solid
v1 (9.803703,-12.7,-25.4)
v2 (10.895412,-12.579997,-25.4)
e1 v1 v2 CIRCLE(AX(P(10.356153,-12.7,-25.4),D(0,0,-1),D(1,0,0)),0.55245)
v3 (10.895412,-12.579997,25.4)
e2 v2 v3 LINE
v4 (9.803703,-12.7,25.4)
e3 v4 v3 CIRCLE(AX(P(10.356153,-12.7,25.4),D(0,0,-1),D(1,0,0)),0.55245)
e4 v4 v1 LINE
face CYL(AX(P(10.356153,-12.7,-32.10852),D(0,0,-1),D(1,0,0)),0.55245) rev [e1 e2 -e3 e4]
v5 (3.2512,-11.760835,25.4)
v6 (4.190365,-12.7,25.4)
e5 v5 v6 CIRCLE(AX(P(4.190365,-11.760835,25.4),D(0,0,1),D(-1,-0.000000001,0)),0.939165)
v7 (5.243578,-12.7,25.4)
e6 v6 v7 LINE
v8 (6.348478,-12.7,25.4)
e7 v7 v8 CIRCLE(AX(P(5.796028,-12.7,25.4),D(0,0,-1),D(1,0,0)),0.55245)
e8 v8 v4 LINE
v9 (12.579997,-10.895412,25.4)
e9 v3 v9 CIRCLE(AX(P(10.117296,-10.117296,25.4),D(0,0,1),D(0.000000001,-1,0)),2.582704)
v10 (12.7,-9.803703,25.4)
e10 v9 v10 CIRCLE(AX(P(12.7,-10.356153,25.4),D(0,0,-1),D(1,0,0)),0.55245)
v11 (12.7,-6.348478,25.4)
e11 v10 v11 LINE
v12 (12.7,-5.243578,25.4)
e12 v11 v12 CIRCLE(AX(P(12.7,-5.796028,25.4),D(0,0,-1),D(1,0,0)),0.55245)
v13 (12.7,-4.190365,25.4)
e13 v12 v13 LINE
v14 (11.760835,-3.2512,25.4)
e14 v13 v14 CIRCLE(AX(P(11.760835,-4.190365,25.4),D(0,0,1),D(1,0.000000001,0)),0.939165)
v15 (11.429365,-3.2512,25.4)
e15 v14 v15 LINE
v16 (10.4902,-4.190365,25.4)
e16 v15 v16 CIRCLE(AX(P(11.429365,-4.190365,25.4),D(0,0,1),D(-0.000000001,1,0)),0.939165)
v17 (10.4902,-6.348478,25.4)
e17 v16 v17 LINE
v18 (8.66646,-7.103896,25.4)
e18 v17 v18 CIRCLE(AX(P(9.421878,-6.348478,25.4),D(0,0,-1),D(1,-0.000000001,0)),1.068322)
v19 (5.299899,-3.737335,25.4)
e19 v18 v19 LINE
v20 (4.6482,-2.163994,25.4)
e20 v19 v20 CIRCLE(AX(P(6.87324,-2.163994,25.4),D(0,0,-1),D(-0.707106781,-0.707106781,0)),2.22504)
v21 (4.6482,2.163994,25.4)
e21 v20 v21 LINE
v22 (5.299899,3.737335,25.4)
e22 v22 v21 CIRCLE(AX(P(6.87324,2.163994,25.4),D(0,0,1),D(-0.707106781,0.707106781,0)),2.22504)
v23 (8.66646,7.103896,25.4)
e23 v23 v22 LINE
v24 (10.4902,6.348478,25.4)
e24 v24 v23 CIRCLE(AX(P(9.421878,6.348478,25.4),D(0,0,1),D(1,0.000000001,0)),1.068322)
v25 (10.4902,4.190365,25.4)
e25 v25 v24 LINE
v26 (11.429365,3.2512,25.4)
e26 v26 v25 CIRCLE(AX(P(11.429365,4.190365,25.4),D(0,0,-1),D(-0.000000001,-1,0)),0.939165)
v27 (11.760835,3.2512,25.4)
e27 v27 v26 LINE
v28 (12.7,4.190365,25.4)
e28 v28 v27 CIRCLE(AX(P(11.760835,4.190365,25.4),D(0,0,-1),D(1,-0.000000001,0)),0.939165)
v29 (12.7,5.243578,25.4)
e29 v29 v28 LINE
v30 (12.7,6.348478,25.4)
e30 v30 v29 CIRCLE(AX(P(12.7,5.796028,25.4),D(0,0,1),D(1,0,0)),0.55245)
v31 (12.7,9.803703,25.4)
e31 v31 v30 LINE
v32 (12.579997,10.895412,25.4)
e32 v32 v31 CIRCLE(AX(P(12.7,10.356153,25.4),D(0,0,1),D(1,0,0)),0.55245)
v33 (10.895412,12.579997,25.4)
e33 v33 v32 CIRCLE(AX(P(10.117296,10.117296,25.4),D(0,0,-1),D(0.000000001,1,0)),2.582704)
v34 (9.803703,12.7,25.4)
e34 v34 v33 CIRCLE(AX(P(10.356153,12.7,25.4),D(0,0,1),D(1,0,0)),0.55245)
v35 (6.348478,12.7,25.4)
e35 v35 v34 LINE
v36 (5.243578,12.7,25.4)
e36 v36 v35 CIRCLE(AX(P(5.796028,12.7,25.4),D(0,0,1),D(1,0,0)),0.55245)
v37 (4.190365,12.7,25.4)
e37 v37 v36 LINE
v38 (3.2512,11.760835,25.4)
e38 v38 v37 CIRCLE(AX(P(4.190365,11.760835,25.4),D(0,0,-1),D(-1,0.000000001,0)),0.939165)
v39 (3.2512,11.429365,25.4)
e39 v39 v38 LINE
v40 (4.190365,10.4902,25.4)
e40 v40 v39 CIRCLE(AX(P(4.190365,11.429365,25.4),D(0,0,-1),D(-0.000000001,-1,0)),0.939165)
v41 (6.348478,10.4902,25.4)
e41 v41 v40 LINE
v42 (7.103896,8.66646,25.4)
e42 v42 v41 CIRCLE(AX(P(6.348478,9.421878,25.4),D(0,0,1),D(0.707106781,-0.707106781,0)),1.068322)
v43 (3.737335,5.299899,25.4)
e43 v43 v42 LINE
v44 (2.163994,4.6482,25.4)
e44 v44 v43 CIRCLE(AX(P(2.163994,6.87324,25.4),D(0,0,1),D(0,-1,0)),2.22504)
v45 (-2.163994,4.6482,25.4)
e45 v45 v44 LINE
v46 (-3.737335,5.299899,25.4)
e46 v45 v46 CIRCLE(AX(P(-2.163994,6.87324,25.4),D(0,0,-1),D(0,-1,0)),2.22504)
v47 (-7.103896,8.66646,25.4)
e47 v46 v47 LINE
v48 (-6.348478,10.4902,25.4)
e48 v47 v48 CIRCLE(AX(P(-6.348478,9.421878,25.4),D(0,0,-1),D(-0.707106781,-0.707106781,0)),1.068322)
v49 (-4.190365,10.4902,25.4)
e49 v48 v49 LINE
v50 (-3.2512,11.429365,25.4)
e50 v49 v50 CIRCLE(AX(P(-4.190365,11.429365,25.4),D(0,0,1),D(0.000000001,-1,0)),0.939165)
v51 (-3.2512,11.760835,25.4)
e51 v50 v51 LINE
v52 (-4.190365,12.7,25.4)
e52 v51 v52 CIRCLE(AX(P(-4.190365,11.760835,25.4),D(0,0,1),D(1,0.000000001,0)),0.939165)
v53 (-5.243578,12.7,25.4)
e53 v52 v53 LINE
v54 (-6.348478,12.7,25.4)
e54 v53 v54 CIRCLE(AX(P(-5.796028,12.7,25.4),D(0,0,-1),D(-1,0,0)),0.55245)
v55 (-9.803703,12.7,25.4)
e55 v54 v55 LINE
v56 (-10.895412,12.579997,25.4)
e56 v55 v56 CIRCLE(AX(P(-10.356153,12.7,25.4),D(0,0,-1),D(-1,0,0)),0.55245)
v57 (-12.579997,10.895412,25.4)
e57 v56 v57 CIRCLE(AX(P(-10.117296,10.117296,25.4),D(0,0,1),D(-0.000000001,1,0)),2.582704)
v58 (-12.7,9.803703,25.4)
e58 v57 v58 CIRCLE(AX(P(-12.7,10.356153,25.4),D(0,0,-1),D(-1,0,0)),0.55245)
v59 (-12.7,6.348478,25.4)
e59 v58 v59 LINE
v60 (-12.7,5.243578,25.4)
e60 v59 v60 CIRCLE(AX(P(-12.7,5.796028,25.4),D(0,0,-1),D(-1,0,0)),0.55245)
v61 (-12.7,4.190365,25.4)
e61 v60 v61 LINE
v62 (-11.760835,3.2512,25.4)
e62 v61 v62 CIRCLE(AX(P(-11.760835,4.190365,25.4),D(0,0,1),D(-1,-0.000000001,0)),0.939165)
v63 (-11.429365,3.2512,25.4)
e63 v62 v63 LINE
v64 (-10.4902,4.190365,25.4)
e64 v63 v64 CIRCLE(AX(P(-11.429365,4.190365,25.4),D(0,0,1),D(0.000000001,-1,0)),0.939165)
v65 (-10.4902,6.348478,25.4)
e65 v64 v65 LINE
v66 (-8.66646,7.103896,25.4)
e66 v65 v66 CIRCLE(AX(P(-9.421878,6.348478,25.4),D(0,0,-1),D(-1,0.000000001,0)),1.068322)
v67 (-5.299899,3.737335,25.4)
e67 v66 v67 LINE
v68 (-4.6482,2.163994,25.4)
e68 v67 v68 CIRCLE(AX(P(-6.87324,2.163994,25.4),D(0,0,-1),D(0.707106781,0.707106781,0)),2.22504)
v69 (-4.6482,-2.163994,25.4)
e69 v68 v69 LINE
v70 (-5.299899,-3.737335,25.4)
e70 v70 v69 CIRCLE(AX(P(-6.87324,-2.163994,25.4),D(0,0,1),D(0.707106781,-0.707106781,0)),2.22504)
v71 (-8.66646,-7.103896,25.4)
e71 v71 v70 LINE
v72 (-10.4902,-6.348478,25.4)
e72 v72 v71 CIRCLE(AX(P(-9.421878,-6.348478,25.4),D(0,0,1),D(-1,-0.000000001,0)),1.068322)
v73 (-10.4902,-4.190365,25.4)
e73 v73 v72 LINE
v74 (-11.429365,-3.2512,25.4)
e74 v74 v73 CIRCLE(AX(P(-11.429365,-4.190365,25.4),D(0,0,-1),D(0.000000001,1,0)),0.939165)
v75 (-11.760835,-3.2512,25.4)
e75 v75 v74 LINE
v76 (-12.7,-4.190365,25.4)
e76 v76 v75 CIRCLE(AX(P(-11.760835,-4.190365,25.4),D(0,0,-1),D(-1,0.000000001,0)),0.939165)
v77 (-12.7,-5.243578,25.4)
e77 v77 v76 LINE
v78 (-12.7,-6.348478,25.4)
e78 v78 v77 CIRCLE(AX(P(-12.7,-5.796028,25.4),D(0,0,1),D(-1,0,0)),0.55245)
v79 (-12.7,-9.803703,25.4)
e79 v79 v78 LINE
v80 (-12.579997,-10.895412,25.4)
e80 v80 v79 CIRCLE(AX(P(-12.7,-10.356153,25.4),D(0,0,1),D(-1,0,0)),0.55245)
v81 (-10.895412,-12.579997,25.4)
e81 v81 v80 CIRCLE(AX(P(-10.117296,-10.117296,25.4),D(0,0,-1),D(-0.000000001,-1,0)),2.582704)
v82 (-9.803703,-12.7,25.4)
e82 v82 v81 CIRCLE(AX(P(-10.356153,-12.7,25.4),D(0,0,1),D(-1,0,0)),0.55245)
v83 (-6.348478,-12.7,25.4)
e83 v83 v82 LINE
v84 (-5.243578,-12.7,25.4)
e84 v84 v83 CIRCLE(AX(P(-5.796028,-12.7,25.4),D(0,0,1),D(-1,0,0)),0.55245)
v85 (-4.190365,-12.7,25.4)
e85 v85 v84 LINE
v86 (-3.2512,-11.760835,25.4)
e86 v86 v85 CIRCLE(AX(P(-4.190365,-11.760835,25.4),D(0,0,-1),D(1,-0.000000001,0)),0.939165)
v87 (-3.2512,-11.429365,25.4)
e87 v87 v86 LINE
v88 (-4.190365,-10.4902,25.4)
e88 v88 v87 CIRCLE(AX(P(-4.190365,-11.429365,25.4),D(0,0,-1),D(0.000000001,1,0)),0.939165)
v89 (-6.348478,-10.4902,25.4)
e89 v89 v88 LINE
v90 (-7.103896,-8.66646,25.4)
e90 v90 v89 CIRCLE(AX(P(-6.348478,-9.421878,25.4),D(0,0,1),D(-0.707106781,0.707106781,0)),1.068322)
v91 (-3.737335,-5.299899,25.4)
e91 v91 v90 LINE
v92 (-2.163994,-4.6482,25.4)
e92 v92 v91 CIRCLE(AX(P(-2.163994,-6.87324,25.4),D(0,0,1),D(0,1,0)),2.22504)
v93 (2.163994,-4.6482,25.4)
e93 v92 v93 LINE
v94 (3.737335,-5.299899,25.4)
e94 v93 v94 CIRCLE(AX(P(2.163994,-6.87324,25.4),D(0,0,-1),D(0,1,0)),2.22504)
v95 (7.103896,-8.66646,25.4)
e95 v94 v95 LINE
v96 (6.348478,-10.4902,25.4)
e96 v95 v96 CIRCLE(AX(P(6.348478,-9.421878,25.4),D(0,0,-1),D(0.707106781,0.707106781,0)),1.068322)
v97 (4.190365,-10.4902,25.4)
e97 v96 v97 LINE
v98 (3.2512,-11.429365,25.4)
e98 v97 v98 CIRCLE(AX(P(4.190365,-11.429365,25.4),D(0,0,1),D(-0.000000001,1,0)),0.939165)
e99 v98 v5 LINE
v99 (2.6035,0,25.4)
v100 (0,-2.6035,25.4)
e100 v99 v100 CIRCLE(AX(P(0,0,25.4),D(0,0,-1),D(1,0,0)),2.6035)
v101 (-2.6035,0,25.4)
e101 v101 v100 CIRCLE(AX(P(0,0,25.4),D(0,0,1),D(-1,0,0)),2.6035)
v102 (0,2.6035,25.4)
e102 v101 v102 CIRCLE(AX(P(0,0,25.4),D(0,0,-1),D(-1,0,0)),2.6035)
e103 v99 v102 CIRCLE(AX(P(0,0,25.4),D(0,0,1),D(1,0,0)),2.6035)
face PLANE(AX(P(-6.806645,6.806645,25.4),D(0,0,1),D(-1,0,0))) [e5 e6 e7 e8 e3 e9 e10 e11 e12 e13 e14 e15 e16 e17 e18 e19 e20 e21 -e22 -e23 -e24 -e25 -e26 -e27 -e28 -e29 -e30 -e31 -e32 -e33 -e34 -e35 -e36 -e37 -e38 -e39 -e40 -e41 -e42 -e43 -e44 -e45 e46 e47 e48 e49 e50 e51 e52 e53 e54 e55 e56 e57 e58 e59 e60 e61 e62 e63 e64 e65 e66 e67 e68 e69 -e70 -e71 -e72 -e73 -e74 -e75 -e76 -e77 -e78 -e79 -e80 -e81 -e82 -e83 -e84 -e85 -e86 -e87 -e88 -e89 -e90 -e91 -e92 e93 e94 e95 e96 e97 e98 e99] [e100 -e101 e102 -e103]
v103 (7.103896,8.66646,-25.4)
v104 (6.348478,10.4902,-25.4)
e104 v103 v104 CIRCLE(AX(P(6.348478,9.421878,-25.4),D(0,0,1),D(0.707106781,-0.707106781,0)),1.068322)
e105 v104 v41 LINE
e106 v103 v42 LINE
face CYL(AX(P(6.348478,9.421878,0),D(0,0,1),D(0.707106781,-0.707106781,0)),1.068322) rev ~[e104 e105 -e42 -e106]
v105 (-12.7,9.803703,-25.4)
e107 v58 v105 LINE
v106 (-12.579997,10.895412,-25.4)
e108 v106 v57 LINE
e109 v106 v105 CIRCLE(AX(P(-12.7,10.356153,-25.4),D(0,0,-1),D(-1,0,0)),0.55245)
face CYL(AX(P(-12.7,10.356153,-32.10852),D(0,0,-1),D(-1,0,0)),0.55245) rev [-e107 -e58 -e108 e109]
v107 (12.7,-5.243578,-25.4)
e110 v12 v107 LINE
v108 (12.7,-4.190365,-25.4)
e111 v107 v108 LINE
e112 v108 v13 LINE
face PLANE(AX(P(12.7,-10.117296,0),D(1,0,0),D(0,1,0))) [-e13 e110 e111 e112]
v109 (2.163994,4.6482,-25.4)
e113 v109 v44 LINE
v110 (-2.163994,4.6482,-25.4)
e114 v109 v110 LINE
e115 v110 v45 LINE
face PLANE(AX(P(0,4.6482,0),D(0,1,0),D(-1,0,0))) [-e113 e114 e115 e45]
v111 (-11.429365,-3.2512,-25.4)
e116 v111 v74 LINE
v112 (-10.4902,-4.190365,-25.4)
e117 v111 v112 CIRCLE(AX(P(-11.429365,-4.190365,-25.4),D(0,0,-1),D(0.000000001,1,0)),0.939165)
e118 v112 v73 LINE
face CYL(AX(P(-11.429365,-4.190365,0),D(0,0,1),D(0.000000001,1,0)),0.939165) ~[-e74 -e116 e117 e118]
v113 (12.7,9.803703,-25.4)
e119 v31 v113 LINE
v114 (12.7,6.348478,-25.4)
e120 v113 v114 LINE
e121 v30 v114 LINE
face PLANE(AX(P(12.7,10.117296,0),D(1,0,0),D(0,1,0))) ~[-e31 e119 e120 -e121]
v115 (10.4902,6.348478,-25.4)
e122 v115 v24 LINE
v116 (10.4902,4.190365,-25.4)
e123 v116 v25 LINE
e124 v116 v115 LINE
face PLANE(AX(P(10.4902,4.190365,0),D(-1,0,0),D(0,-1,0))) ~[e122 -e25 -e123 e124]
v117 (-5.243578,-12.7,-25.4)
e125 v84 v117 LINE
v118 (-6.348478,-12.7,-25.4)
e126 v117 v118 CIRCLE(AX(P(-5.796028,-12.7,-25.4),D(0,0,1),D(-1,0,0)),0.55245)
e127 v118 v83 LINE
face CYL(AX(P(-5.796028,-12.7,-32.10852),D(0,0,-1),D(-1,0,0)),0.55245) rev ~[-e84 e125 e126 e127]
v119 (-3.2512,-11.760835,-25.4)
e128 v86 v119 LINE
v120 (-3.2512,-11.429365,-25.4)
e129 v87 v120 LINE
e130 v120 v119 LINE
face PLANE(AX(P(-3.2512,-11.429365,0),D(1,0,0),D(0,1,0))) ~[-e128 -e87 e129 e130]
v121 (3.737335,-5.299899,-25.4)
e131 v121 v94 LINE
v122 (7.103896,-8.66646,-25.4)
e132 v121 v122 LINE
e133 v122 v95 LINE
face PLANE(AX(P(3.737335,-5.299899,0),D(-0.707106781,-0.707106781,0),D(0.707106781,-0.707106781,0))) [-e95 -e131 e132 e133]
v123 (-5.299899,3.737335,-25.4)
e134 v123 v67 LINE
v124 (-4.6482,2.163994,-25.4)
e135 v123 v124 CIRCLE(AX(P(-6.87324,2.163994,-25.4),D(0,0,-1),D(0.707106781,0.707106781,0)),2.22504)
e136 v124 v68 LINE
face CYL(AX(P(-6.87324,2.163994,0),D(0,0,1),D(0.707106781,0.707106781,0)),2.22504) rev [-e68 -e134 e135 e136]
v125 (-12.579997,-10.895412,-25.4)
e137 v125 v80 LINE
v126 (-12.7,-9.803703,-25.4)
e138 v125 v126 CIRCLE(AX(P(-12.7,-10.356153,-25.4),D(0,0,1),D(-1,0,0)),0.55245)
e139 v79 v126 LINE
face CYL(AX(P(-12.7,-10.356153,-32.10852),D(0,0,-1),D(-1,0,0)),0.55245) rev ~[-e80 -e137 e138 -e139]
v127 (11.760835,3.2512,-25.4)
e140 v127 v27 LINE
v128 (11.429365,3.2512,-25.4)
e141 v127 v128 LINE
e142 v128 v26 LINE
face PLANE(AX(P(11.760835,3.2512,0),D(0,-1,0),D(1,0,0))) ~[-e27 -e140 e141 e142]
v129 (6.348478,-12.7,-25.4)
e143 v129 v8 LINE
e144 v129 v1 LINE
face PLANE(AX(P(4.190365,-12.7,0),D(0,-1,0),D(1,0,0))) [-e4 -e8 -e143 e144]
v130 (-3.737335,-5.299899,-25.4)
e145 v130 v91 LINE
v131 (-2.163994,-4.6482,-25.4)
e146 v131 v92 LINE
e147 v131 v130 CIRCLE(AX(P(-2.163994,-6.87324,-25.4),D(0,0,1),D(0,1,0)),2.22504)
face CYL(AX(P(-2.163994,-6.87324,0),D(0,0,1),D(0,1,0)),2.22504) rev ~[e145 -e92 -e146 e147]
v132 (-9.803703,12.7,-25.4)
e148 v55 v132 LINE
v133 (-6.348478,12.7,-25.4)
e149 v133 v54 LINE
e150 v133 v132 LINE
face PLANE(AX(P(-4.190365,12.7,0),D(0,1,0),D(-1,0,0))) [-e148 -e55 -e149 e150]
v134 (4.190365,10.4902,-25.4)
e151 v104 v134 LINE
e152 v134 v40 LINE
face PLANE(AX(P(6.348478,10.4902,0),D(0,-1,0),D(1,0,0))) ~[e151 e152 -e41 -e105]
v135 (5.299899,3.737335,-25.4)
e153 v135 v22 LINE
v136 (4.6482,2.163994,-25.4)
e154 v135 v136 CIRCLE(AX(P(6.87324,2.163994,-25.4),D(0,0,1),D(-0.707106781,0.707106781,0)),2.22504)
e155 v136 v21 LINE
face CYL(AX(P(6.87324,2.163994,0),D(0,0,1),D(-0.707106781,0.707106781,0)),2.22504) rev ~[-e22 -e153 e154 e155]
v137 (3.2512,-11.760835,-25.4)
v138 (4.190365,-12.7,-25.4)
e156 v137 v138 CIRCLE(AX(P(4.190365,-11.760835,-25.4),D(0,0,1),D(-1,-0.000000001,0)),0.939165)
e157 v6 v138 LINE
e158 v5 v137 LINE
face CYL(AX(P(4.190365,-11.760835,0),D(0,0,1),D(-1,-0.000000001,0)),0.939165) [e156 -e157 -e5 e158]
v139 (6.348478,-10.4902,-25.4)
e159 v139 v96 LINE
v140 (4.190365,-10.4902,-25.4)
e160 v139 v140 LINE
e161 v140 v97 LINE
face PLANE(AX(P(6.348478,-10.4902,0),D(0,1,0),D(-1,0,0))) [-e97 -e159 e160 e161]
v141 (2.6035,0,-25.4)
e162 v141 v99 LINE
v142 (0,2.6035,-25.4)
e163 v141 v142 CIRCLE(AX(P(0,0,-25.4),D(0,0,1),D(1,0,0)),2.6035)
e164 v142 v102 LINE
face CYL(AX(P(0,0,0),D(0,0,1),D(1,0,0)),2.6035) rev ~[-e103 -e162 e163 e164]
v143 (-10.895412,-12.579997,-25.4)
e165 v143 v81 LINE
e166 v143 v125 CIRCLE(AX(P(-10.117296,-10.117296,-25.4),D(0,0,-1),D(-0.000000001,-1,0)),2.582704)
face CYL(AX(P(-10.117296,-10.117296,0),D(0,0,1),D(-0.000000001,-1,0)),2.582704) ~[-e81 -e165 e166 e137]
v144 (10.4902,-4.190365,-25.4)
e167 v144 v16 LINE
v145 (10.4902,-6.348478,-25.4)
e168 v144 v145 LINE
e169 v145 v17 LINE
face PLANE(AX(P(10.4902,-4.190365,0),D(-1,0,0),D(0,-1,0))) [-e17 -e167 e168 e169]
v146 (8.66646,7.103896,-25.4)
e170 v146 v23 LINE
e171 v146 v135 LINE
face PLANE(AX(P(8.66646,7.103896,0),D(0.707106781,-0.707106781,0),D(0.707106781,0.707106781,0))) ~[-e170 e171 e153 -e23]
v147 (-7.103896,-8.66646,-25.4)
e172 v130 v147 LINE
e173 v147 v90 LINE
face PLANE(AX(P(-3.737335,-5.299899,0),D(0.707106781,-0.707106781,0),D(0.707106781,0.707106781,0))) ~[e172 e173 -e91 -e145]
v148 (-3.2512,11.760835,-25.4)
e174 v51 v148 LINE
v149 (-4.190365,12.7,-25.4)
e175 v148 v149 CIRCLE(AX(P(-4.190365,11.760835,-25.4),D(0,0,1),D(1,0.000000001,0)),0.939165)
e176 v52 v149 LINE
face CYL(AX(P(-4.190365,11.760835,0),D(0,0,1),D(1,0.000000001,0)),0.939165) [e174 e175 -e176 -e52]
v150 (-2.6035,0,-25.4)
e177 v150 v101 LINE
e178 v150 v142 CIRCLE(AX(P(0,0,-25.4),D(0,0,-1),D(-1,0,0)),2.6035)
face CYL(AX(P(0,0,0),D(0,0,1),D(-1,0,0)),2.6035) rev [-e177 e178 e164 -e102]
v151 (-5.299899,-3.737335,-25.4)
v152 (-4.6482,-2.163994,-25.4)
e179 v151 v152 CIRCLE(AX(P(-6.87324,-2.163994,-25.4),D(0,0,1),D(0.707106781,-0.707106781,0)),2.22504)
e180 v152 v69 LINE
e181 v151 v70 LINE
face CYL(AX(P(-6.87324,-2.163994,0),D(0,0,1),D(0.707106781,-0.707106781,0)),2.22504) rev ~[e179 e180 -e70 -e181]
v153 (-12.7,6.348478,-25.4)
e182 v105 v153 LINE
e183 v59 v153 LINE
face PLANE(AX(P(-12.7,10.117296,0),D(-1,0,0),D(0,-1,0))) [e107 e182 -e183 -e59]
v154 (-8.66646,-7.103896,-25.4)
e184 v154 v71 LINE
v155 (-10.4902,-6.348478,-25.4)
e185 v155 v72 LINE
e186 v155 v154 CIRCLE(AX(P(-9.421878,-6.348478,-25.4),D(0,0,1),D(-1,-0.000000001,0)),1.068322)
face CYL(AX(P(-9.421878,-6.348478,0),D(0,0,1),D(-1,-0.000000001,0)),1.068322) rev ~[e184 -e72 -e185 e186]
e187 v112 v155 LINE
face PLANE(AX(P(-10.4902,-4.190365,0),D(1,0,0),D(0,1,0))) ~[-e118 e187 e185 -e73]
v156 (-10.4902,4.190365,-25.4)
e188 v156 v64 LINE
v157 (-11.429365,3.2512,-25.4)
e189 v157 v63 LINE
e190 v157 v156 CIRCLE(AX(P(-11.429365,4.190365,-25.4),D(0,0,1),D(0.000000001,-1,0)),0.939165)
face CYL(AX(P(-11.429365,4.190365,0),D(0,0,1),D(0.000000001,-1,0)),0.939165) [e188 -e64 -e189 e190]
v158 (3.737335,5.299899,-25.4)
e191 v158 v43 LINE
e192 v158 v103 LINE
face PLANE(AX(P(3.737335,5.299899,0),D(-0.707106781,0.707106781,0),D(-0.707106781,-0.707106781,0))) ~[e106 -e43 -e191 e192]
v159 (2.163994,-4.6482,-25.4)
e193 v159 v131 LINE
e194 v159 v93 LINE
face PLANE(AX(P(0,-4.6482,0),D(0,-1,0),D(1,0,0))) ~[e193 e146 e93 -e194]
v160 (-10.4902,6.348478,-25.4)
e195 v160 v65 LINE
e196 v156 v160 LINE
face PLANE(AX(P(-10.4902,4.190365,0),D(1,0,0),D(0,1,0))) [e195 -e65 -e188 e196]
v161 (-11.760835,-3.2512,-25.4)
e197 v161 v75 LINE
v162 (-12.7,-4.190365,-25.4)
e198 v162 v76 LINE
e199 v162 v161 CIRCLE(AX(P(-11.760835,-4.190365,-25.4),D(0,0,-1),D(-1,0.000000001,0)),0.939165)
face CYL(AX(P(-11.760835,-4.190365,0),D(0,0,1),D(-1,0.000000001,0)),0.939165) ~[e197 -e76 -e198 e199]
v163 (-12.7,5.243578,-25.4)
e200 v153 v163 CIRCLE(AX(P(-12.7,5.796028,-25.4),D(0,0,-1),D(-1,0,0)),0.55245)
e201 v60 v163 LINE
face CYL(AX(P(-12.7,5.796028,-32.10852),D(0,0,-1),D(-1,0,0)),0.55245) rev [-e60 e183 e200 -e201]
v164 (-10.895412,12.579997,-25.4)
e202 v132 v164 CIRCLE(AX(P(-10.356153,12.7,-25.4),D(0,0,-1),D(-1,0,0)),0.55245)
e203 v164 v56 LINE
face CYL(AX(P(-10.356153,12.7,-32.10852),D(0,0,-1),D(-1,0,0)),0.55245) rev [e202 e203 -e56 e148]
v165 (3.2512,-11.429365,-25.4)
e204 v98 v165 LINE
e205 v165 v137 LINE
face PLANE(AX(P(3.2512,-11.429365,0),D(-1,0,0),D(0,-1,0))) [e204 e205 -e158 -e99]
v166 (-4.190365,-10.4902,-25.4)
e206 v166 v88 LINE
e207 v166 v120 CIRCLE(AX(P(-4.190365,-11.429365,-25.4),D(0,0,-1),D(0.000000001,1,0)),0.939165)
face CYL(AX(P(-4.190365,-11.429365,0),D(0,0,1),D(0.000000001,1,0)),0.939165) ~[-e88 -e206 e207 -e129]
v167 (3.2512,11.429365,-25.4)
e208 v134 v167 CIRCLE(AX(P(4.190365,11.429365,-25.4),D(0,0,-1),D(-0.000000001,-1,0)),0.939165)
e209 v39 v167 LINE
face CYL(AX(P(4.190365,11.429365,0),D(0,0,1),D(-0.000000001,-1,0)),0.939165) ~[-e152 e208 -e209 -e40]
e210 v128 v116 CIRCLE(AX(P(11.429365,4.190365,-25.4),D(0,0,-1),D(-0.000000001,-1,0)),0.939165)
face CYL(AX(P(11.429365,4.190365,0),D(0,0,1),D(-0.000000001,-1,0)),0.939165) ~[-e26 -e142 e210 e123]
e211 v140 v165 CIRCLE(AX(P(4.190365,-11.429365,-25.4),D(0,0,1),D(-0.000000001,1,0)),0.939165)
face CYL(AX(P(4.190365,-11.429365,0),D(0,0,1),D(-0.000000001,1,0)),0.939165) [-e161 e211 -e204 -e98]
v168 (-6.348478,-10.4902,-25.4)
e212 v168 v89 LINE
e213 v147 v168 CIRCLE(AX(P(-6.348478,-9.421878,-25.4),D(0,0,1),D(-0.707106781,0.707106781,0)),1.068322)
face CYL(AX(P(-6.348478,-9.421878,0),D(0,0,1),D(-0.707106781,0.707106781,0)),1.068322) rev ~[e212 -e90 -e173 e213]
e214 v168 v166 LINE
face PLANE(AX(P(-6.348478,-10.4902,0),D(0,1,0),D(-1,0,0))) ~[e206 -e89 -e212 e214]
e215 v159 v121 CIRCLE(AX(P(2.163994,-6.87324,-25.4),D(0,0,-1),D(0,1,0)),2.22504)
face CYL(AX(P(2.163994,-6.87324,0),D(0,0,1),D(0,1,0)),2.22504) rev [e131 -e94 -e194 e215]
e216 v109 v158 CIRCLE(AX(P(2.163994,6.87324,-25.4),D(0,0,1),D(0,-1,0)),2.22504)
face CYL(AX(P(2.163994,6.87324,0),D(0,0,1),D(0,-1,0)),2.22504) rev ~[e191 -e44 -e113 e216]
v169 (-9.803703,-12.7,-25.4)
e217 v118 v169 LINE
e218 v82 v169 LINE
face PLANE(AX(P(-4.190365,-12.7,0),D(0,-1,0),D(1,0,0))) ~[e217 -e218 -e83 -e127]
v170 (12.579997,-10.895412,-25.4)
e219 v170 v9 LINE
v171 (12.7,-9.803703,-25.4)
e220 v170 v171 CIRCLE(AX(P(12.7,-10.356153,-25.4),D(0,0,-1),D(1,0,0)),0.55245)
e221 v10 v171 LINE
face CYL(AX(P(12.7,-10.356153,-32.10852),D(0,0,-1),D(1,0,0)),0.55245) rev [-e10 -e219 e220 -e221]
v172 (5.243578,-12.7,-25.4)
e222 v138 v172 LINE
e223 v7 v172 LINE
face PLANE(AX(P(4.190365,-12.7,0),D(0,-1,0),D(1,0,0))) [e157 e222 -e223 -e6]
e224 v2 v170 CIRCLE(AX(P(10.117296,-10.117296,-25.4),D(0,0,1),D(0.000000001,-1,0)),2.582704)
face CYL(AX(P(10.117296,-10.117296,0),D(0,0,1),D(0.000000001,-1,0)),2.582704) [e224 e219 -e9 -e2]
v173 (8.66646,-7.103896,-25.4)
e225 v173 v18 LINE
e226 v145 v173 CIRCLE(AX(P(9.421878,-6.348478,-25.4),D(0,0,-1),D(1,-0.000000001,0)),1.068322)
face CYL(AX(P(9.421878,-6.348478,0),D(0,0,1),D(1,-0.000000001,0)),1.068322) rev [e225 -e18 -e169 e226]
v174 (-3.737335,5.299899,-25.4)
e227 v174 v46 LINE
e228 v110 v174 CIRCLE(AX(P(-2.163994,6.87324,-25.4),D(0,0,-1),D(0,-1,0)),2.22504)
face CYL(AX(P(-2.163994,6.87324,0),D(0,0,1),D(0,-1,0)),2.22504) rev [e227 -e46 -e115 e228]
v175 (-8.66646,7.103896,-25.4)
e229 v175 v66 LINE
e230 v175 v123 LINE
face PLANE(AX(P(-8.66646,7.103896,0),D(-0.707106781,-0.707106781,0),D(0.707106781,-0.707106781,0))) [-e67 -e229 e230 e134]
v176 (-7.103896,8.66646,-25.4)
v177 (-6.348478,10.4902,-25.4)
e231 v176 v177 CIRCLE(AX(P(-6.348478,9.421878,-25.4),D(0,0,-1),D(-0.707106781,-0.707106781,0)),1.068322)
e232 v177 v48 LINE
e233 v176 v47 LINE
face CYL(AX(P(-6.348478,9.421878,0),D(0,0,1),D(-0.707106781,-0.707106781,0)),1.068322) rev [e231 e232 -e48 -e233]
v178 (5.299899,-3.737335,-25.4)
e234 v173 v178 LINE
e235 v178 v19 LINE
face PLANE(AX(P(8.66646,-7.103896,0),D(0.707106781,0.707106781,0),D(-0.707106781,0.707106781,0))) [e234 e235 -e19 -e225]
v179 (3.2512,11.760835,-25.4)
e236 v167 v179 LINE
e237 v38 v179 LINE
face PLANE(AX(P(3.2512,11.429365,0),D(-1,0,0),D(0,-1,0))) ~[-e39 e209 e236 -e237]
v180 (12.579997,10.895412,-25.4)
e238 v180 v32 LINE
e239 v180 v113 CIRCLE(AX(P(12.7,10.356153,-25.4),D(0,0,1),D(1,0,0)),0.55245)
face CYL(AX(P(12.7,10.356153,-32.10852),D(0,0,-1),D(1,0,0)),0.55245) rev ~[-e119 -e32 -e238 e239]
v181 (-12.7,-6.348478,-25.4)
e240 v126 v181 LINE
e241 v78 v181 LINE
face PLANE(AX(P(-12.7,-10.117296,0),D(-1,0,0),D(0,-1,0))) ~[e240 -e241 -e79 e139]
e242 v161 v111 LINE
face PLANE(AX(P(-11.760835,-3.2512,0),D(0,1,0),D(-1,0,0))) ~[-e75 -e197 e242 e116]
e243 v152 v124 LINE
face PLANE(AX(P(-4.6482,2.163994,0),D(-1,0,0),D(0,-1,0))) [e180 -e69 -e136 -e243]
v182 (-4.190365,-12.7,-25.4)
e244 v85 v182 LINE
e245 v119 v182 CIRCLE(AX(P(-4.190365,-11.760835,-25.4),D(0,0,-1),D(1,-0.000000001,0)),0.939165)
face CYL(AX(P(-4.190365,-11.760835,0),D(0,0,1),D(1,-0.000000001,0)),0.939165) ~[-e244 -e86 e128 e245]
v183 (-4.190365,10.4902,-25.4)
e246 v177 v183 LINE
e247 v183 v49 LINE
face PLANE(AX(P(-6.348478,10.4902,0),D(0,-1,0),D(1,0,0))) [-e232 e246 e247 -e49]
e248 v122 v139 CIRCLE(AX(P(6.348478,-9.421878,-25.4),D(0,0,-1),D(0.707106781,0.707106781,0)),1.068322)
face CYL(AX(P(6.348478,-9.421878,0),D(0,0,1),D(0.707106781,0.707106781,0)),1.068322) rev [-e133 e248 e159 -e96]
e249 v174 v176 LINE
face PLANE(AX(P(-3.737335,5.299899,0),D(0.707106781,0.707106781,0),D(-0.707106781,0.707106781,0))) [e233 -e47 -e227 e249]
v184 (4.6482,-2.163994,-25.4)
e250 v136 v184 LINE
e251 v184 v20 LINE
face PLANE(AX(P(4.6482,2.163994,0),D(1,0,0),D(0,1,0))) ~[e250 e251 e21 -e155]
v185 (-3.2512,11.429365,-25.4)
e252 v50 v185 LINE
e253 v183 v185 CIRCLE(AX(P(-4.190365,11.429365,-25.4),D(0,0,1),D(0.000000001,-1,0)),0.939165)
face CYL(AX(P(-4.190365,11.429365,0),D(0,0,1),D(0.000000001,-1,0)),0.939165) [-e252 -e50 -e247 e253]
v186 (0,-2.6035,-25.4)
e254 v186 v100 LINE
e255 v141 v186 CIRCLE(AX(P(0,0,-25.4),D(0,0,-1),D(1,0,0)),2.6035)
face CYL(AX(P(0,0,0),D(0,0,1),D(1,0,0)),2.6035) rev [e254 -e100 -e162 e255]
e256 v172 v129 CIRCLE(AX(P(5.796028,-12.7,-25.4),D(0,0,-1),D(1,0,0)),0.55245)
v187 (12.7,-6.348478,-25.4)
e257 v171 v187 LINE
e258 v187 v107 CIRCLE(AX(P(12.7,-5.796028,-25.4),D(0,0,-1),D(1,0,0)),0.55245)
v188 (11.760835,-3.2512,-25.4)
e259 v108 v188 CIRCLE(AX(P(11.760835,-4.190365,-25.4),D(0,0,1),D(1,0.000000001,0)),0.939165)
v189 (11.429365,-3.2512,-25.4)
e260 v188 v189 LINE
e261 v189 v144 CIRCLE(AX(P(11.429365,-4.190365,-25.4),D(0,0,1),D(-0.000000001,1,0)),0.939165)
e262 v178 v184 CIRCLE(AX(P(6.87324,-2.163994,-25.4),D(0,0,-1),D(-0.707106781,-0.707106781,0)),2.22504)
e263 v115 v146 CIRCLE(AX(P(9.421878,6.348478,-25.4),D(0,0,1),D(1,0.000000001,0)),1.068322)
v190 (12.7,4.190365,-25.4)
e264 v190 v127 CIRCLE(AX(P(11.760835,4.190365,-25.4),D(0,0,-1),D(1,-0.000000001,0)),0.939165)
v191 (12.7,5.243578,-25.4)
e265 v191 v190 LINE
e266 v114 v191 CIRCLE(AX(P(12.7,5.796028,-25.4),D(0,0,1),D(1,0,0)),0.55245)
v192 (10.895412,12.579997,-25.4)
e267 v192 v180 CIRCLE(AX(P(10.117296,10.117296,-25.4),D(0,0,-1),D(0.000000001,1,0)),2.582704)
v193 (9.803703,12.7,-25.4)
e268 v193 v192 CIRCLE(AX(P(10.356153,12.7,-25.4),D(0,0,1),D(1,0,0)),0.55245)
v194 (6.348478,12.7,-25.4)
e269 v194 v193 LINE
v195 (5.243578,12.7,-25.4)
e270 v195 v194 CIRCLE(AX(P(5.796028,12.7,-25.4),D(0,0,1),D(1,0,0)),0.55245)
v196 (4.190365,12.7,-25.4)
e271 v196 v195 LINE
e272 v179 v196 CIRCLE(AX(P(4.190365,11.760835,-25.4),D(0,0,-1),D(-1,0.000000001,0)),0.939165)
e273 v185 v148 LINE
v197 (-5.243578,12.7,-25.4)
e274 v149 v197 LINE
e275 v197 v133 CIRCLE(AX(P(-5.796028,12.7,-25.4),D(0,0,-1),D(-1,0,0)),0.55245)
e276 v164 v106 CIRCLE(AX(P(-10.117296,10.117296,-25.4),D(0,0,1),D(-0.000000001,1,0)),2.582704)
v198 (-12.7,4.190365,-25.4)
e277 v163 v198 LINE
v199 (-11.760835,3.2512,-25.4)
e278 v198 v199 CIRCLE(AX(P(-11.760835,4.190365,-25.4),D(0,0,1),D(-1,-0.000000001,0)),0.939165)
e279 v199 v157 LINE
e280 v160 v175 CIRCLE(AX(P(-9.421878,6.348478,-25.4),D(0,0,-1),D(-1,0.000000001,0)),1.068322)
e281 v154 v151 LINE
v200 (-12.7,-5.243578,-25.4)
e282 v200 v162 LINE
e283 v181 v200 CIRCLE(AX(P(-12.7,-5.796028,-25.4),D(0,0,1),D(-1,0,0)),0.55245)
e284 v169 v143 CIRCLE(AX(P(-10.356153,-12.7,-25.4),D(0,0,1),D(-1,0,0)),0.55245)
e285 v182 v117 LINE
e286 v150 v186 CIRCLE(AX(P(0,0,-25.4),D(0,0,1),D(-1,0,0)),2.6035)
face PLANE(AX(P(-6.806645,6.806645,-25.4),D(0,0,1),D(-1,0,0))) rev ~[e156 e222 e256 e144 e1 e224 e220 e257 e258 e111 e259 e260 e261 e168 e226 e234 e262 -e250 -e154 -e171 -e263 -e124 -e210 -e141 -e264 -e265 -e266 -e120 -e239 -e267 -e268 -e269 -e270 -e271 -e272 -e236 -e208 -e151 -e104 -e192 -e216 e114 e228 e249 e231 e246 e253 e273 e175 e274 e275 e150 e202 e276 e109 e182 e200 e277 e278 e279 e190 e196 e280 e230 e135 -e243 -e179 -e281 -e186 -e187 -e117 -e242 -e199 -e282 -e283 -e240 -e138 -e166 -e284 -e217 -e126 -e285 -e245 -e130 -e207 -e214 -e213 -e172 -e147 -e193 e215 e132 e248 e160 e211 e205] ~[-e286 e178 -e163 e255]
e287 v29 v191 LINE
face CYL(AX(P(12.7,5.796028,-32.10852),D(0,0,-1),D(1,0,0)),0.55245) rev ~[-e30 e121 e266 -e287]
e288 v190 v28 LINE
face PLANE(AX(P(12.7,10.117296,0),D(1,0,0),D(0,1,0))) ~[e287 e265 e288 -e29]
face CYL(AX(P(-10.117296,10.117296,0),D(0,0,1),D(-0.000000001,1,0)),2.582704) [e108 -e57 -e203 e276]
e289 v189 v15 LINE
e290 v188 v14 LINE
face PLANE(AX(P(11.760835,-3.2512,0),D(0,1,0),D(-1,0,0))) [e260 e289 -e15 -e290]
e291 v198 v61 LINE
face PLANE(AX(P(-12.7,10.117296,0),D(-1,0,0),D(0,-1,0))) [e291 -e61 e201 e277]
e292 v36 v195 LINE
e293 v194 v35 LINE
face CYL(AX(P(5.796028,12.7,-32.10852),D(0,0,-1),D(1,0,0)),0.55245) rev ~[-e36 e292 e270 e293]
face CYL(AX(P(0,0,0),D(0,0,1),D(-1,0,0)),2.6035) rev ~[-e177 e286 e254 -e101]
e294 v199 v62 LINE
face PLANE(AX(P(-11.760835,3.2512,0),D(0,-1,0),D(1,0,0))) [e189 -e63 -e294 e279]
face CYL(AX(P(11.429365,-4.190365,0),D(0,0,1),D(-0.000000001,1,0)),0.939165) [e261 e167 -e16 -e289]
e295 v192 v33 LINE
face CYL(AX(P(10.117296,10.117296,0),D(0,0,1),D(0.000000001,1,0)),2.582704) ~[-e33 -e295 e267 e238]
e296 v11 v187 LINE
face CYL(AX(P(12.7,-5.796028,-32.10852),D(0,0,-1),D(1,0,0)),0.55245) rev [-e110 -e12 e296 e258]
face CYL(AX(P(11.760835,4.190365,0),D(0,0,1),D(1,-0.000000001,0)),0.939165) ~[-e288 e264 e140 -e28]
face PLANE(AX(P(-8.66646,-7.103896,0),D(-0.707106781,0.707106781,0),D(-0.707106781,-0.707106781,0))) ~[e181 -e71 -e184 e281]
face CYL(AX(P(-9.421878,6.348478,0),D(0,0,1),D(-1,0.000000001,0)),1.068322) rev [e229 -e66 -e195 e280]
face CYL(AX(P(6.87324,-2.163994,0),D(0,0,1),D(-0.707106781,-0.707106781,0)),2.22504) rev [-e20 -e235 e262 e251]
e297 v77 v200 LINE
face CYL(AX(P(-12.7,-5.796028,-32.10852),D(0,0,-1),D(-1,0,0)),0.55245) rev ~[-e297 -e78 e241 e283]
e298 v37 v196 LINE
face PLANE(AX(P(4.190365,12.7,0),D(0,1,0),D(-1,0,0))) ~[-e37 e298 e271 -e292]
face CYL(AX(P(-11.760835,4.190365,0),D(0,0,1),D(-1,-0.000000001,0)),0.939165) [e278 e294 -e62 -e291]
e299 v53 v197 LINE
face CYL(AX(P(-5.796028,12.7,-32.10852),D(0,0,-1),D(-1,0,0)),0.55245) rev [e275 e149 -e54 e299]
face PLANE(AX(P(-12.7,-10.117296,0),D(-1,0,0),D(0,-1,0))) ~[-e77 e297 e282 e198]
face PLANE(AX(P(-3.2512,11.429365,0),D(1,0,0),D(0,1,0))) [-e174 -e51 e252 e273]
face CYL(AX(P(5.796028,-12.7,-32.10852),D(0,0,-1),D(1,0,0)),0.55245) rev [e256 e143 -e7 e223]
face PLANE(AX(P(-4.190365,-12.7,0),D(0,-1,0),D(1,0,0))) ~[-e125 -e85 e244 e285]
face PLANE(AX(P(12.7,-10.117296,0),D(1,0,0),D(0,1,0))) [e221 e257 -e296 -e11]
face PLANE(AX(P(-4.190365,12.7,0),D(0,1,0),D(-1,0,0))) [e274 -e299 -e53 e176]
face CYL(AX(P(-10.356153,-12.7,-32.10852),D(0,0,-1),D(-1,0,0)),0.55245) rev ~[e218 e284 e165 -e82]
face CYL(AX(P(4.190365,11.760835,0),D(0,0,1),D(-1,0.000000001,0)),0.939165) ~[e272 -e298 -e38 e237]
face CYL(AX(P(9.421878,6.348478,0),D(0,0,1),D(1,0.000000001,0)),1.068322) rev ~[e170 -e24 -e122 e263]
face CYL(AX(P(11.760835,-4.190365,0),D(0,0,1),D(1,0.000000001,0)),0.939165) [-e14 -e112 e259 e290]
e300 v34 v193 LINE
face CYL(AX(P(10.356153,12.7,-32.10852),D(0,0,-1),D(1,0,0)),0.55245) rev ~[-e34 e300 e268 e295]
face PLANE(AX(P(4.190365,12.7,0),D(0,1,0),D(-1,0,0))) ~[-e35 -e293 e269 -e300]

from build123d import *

# Parameters (mm, degrees)
BOSS_EXTRUDE1_DEPTH     = 25.4
CUT_EXTRUDE1_DEPTH      = 32.108519733
CUT_EXTRUDE1_DEPTH_BACK = 32.108519733
SKETCH5_R               = 0.55245


with BuildPart() as part:
    # Sketch4 → Boss-Extrude1 (new, symmetric)
    with BuildSketch(Plane.XY):
        with BuildLine():
            Line((4.190365, -12.7), (10.11729625, -12.7))
            ThreePointArc((10.11729625, -12.7), (11.943543585, -11.943543585), (12.7, -10.11729625))
            Line((12.7, -10.11729625), (12.7, -4.190365))
            ThreePointArc((12.7, -4.190365), (12.42492494, -3.52627506), (11.760835, -3.2512))
            Line((11.760835, -3.2512), (11.429365, -3.2512))
            ThreePointArc((11.429365, -3.2512), (10.76527506, -3.52627506), (10.4902, -4.190365))
            Line((10.4902, -4.190365), (10.4902, -6.348478019))
            ThreePointArc((10.4902, -6.348478019), (9.830707141, -7.335478831), (8.666460301, -7.103895736))
            Line((8.666460301, -7.103895736), (5.299899128, -3.737334563))
            ThreePointArc((5.299899128, -3.737334563), (4.817571085, -3.015479634), (4.6482, -2.16399369))
            Line((4.6482, -2.16399369), (4.6482, 0))
            Line((4.6482, 0), (2.6035, 0))
            ThreePointArc((2.6035, 0), (1.840952505, -1.840952505), (0, -2.6035))
            Line((0, -2.6035), (0, -4.6482))
            Line((0, -4.6482), (2.16399369, -4.6482))
            ThreePointArc((2.16399369, -4.6482), (3.015479634, -4.817571085), (3.737334563, -5.299899128))
            Line((3.737334563, -5.299899128), (7.103895736, -8.666460301))
            ThreePointArc((7.103895736, -8.666460301), (7.335478831, -9.830707141), (6.348478019, -10.4902))
            Line((6.348478019, -10.4902), (4.190365, -10.4902))
            ThreePointArc((4.190365, -10.4902), (3.52627506, -10.76527506), (3.2512, -11.429365))
            Line((3.2512, -11.429365), (3.2512, -11.760835))
            ThreePointArc((3.2512, -11.760835), (3.52627506, -12.42492494), (4.190365, -12.7))
        make_face()
    extrude(amount=BOSS_EXTRUDE1_DEPTH, both=True)

    # Sketch5 → Cut-Extrude1 (cut, two sides: drawn at the far end of the back side and taken through both)
    with BuildSketch(Plane.XY.offset(-CUT_EXTRUDE1_DEPTH_BACK)):
        with Locations((10.356153152, -12.7)):
            Circle(SKETCH5_R)
        with Locations((5.796028019, -12.7)):
            Circle(SKETCH5_R)
        with Locations((12.7, -10.356153152)):
            Circle(SKETCH5_R)
        with Locations((12.7, -5.796028019)):
            Circle(SKETCH5_R)
    extrude(amount=CUT_EXTRUDE1_DEPTH + CUT_EXTRUDE1_DEPTH_BACK, mode=Mode.SUBTRACT)

    # Mirror1: part across plane


with BuildPart() as part_1:
    add(part.part)
    add(part.part.mirror(Plane(origin=(0, 0, 0), x_dir=(0, 0, 1), z_dir=(1, 0, 0))))

    # Mirror2: part across plane


with BuildPart() as part_2:
    add(part_1.part)
    add(part_1.part.mirror(Plane.ZX))


solid = part_2.part
